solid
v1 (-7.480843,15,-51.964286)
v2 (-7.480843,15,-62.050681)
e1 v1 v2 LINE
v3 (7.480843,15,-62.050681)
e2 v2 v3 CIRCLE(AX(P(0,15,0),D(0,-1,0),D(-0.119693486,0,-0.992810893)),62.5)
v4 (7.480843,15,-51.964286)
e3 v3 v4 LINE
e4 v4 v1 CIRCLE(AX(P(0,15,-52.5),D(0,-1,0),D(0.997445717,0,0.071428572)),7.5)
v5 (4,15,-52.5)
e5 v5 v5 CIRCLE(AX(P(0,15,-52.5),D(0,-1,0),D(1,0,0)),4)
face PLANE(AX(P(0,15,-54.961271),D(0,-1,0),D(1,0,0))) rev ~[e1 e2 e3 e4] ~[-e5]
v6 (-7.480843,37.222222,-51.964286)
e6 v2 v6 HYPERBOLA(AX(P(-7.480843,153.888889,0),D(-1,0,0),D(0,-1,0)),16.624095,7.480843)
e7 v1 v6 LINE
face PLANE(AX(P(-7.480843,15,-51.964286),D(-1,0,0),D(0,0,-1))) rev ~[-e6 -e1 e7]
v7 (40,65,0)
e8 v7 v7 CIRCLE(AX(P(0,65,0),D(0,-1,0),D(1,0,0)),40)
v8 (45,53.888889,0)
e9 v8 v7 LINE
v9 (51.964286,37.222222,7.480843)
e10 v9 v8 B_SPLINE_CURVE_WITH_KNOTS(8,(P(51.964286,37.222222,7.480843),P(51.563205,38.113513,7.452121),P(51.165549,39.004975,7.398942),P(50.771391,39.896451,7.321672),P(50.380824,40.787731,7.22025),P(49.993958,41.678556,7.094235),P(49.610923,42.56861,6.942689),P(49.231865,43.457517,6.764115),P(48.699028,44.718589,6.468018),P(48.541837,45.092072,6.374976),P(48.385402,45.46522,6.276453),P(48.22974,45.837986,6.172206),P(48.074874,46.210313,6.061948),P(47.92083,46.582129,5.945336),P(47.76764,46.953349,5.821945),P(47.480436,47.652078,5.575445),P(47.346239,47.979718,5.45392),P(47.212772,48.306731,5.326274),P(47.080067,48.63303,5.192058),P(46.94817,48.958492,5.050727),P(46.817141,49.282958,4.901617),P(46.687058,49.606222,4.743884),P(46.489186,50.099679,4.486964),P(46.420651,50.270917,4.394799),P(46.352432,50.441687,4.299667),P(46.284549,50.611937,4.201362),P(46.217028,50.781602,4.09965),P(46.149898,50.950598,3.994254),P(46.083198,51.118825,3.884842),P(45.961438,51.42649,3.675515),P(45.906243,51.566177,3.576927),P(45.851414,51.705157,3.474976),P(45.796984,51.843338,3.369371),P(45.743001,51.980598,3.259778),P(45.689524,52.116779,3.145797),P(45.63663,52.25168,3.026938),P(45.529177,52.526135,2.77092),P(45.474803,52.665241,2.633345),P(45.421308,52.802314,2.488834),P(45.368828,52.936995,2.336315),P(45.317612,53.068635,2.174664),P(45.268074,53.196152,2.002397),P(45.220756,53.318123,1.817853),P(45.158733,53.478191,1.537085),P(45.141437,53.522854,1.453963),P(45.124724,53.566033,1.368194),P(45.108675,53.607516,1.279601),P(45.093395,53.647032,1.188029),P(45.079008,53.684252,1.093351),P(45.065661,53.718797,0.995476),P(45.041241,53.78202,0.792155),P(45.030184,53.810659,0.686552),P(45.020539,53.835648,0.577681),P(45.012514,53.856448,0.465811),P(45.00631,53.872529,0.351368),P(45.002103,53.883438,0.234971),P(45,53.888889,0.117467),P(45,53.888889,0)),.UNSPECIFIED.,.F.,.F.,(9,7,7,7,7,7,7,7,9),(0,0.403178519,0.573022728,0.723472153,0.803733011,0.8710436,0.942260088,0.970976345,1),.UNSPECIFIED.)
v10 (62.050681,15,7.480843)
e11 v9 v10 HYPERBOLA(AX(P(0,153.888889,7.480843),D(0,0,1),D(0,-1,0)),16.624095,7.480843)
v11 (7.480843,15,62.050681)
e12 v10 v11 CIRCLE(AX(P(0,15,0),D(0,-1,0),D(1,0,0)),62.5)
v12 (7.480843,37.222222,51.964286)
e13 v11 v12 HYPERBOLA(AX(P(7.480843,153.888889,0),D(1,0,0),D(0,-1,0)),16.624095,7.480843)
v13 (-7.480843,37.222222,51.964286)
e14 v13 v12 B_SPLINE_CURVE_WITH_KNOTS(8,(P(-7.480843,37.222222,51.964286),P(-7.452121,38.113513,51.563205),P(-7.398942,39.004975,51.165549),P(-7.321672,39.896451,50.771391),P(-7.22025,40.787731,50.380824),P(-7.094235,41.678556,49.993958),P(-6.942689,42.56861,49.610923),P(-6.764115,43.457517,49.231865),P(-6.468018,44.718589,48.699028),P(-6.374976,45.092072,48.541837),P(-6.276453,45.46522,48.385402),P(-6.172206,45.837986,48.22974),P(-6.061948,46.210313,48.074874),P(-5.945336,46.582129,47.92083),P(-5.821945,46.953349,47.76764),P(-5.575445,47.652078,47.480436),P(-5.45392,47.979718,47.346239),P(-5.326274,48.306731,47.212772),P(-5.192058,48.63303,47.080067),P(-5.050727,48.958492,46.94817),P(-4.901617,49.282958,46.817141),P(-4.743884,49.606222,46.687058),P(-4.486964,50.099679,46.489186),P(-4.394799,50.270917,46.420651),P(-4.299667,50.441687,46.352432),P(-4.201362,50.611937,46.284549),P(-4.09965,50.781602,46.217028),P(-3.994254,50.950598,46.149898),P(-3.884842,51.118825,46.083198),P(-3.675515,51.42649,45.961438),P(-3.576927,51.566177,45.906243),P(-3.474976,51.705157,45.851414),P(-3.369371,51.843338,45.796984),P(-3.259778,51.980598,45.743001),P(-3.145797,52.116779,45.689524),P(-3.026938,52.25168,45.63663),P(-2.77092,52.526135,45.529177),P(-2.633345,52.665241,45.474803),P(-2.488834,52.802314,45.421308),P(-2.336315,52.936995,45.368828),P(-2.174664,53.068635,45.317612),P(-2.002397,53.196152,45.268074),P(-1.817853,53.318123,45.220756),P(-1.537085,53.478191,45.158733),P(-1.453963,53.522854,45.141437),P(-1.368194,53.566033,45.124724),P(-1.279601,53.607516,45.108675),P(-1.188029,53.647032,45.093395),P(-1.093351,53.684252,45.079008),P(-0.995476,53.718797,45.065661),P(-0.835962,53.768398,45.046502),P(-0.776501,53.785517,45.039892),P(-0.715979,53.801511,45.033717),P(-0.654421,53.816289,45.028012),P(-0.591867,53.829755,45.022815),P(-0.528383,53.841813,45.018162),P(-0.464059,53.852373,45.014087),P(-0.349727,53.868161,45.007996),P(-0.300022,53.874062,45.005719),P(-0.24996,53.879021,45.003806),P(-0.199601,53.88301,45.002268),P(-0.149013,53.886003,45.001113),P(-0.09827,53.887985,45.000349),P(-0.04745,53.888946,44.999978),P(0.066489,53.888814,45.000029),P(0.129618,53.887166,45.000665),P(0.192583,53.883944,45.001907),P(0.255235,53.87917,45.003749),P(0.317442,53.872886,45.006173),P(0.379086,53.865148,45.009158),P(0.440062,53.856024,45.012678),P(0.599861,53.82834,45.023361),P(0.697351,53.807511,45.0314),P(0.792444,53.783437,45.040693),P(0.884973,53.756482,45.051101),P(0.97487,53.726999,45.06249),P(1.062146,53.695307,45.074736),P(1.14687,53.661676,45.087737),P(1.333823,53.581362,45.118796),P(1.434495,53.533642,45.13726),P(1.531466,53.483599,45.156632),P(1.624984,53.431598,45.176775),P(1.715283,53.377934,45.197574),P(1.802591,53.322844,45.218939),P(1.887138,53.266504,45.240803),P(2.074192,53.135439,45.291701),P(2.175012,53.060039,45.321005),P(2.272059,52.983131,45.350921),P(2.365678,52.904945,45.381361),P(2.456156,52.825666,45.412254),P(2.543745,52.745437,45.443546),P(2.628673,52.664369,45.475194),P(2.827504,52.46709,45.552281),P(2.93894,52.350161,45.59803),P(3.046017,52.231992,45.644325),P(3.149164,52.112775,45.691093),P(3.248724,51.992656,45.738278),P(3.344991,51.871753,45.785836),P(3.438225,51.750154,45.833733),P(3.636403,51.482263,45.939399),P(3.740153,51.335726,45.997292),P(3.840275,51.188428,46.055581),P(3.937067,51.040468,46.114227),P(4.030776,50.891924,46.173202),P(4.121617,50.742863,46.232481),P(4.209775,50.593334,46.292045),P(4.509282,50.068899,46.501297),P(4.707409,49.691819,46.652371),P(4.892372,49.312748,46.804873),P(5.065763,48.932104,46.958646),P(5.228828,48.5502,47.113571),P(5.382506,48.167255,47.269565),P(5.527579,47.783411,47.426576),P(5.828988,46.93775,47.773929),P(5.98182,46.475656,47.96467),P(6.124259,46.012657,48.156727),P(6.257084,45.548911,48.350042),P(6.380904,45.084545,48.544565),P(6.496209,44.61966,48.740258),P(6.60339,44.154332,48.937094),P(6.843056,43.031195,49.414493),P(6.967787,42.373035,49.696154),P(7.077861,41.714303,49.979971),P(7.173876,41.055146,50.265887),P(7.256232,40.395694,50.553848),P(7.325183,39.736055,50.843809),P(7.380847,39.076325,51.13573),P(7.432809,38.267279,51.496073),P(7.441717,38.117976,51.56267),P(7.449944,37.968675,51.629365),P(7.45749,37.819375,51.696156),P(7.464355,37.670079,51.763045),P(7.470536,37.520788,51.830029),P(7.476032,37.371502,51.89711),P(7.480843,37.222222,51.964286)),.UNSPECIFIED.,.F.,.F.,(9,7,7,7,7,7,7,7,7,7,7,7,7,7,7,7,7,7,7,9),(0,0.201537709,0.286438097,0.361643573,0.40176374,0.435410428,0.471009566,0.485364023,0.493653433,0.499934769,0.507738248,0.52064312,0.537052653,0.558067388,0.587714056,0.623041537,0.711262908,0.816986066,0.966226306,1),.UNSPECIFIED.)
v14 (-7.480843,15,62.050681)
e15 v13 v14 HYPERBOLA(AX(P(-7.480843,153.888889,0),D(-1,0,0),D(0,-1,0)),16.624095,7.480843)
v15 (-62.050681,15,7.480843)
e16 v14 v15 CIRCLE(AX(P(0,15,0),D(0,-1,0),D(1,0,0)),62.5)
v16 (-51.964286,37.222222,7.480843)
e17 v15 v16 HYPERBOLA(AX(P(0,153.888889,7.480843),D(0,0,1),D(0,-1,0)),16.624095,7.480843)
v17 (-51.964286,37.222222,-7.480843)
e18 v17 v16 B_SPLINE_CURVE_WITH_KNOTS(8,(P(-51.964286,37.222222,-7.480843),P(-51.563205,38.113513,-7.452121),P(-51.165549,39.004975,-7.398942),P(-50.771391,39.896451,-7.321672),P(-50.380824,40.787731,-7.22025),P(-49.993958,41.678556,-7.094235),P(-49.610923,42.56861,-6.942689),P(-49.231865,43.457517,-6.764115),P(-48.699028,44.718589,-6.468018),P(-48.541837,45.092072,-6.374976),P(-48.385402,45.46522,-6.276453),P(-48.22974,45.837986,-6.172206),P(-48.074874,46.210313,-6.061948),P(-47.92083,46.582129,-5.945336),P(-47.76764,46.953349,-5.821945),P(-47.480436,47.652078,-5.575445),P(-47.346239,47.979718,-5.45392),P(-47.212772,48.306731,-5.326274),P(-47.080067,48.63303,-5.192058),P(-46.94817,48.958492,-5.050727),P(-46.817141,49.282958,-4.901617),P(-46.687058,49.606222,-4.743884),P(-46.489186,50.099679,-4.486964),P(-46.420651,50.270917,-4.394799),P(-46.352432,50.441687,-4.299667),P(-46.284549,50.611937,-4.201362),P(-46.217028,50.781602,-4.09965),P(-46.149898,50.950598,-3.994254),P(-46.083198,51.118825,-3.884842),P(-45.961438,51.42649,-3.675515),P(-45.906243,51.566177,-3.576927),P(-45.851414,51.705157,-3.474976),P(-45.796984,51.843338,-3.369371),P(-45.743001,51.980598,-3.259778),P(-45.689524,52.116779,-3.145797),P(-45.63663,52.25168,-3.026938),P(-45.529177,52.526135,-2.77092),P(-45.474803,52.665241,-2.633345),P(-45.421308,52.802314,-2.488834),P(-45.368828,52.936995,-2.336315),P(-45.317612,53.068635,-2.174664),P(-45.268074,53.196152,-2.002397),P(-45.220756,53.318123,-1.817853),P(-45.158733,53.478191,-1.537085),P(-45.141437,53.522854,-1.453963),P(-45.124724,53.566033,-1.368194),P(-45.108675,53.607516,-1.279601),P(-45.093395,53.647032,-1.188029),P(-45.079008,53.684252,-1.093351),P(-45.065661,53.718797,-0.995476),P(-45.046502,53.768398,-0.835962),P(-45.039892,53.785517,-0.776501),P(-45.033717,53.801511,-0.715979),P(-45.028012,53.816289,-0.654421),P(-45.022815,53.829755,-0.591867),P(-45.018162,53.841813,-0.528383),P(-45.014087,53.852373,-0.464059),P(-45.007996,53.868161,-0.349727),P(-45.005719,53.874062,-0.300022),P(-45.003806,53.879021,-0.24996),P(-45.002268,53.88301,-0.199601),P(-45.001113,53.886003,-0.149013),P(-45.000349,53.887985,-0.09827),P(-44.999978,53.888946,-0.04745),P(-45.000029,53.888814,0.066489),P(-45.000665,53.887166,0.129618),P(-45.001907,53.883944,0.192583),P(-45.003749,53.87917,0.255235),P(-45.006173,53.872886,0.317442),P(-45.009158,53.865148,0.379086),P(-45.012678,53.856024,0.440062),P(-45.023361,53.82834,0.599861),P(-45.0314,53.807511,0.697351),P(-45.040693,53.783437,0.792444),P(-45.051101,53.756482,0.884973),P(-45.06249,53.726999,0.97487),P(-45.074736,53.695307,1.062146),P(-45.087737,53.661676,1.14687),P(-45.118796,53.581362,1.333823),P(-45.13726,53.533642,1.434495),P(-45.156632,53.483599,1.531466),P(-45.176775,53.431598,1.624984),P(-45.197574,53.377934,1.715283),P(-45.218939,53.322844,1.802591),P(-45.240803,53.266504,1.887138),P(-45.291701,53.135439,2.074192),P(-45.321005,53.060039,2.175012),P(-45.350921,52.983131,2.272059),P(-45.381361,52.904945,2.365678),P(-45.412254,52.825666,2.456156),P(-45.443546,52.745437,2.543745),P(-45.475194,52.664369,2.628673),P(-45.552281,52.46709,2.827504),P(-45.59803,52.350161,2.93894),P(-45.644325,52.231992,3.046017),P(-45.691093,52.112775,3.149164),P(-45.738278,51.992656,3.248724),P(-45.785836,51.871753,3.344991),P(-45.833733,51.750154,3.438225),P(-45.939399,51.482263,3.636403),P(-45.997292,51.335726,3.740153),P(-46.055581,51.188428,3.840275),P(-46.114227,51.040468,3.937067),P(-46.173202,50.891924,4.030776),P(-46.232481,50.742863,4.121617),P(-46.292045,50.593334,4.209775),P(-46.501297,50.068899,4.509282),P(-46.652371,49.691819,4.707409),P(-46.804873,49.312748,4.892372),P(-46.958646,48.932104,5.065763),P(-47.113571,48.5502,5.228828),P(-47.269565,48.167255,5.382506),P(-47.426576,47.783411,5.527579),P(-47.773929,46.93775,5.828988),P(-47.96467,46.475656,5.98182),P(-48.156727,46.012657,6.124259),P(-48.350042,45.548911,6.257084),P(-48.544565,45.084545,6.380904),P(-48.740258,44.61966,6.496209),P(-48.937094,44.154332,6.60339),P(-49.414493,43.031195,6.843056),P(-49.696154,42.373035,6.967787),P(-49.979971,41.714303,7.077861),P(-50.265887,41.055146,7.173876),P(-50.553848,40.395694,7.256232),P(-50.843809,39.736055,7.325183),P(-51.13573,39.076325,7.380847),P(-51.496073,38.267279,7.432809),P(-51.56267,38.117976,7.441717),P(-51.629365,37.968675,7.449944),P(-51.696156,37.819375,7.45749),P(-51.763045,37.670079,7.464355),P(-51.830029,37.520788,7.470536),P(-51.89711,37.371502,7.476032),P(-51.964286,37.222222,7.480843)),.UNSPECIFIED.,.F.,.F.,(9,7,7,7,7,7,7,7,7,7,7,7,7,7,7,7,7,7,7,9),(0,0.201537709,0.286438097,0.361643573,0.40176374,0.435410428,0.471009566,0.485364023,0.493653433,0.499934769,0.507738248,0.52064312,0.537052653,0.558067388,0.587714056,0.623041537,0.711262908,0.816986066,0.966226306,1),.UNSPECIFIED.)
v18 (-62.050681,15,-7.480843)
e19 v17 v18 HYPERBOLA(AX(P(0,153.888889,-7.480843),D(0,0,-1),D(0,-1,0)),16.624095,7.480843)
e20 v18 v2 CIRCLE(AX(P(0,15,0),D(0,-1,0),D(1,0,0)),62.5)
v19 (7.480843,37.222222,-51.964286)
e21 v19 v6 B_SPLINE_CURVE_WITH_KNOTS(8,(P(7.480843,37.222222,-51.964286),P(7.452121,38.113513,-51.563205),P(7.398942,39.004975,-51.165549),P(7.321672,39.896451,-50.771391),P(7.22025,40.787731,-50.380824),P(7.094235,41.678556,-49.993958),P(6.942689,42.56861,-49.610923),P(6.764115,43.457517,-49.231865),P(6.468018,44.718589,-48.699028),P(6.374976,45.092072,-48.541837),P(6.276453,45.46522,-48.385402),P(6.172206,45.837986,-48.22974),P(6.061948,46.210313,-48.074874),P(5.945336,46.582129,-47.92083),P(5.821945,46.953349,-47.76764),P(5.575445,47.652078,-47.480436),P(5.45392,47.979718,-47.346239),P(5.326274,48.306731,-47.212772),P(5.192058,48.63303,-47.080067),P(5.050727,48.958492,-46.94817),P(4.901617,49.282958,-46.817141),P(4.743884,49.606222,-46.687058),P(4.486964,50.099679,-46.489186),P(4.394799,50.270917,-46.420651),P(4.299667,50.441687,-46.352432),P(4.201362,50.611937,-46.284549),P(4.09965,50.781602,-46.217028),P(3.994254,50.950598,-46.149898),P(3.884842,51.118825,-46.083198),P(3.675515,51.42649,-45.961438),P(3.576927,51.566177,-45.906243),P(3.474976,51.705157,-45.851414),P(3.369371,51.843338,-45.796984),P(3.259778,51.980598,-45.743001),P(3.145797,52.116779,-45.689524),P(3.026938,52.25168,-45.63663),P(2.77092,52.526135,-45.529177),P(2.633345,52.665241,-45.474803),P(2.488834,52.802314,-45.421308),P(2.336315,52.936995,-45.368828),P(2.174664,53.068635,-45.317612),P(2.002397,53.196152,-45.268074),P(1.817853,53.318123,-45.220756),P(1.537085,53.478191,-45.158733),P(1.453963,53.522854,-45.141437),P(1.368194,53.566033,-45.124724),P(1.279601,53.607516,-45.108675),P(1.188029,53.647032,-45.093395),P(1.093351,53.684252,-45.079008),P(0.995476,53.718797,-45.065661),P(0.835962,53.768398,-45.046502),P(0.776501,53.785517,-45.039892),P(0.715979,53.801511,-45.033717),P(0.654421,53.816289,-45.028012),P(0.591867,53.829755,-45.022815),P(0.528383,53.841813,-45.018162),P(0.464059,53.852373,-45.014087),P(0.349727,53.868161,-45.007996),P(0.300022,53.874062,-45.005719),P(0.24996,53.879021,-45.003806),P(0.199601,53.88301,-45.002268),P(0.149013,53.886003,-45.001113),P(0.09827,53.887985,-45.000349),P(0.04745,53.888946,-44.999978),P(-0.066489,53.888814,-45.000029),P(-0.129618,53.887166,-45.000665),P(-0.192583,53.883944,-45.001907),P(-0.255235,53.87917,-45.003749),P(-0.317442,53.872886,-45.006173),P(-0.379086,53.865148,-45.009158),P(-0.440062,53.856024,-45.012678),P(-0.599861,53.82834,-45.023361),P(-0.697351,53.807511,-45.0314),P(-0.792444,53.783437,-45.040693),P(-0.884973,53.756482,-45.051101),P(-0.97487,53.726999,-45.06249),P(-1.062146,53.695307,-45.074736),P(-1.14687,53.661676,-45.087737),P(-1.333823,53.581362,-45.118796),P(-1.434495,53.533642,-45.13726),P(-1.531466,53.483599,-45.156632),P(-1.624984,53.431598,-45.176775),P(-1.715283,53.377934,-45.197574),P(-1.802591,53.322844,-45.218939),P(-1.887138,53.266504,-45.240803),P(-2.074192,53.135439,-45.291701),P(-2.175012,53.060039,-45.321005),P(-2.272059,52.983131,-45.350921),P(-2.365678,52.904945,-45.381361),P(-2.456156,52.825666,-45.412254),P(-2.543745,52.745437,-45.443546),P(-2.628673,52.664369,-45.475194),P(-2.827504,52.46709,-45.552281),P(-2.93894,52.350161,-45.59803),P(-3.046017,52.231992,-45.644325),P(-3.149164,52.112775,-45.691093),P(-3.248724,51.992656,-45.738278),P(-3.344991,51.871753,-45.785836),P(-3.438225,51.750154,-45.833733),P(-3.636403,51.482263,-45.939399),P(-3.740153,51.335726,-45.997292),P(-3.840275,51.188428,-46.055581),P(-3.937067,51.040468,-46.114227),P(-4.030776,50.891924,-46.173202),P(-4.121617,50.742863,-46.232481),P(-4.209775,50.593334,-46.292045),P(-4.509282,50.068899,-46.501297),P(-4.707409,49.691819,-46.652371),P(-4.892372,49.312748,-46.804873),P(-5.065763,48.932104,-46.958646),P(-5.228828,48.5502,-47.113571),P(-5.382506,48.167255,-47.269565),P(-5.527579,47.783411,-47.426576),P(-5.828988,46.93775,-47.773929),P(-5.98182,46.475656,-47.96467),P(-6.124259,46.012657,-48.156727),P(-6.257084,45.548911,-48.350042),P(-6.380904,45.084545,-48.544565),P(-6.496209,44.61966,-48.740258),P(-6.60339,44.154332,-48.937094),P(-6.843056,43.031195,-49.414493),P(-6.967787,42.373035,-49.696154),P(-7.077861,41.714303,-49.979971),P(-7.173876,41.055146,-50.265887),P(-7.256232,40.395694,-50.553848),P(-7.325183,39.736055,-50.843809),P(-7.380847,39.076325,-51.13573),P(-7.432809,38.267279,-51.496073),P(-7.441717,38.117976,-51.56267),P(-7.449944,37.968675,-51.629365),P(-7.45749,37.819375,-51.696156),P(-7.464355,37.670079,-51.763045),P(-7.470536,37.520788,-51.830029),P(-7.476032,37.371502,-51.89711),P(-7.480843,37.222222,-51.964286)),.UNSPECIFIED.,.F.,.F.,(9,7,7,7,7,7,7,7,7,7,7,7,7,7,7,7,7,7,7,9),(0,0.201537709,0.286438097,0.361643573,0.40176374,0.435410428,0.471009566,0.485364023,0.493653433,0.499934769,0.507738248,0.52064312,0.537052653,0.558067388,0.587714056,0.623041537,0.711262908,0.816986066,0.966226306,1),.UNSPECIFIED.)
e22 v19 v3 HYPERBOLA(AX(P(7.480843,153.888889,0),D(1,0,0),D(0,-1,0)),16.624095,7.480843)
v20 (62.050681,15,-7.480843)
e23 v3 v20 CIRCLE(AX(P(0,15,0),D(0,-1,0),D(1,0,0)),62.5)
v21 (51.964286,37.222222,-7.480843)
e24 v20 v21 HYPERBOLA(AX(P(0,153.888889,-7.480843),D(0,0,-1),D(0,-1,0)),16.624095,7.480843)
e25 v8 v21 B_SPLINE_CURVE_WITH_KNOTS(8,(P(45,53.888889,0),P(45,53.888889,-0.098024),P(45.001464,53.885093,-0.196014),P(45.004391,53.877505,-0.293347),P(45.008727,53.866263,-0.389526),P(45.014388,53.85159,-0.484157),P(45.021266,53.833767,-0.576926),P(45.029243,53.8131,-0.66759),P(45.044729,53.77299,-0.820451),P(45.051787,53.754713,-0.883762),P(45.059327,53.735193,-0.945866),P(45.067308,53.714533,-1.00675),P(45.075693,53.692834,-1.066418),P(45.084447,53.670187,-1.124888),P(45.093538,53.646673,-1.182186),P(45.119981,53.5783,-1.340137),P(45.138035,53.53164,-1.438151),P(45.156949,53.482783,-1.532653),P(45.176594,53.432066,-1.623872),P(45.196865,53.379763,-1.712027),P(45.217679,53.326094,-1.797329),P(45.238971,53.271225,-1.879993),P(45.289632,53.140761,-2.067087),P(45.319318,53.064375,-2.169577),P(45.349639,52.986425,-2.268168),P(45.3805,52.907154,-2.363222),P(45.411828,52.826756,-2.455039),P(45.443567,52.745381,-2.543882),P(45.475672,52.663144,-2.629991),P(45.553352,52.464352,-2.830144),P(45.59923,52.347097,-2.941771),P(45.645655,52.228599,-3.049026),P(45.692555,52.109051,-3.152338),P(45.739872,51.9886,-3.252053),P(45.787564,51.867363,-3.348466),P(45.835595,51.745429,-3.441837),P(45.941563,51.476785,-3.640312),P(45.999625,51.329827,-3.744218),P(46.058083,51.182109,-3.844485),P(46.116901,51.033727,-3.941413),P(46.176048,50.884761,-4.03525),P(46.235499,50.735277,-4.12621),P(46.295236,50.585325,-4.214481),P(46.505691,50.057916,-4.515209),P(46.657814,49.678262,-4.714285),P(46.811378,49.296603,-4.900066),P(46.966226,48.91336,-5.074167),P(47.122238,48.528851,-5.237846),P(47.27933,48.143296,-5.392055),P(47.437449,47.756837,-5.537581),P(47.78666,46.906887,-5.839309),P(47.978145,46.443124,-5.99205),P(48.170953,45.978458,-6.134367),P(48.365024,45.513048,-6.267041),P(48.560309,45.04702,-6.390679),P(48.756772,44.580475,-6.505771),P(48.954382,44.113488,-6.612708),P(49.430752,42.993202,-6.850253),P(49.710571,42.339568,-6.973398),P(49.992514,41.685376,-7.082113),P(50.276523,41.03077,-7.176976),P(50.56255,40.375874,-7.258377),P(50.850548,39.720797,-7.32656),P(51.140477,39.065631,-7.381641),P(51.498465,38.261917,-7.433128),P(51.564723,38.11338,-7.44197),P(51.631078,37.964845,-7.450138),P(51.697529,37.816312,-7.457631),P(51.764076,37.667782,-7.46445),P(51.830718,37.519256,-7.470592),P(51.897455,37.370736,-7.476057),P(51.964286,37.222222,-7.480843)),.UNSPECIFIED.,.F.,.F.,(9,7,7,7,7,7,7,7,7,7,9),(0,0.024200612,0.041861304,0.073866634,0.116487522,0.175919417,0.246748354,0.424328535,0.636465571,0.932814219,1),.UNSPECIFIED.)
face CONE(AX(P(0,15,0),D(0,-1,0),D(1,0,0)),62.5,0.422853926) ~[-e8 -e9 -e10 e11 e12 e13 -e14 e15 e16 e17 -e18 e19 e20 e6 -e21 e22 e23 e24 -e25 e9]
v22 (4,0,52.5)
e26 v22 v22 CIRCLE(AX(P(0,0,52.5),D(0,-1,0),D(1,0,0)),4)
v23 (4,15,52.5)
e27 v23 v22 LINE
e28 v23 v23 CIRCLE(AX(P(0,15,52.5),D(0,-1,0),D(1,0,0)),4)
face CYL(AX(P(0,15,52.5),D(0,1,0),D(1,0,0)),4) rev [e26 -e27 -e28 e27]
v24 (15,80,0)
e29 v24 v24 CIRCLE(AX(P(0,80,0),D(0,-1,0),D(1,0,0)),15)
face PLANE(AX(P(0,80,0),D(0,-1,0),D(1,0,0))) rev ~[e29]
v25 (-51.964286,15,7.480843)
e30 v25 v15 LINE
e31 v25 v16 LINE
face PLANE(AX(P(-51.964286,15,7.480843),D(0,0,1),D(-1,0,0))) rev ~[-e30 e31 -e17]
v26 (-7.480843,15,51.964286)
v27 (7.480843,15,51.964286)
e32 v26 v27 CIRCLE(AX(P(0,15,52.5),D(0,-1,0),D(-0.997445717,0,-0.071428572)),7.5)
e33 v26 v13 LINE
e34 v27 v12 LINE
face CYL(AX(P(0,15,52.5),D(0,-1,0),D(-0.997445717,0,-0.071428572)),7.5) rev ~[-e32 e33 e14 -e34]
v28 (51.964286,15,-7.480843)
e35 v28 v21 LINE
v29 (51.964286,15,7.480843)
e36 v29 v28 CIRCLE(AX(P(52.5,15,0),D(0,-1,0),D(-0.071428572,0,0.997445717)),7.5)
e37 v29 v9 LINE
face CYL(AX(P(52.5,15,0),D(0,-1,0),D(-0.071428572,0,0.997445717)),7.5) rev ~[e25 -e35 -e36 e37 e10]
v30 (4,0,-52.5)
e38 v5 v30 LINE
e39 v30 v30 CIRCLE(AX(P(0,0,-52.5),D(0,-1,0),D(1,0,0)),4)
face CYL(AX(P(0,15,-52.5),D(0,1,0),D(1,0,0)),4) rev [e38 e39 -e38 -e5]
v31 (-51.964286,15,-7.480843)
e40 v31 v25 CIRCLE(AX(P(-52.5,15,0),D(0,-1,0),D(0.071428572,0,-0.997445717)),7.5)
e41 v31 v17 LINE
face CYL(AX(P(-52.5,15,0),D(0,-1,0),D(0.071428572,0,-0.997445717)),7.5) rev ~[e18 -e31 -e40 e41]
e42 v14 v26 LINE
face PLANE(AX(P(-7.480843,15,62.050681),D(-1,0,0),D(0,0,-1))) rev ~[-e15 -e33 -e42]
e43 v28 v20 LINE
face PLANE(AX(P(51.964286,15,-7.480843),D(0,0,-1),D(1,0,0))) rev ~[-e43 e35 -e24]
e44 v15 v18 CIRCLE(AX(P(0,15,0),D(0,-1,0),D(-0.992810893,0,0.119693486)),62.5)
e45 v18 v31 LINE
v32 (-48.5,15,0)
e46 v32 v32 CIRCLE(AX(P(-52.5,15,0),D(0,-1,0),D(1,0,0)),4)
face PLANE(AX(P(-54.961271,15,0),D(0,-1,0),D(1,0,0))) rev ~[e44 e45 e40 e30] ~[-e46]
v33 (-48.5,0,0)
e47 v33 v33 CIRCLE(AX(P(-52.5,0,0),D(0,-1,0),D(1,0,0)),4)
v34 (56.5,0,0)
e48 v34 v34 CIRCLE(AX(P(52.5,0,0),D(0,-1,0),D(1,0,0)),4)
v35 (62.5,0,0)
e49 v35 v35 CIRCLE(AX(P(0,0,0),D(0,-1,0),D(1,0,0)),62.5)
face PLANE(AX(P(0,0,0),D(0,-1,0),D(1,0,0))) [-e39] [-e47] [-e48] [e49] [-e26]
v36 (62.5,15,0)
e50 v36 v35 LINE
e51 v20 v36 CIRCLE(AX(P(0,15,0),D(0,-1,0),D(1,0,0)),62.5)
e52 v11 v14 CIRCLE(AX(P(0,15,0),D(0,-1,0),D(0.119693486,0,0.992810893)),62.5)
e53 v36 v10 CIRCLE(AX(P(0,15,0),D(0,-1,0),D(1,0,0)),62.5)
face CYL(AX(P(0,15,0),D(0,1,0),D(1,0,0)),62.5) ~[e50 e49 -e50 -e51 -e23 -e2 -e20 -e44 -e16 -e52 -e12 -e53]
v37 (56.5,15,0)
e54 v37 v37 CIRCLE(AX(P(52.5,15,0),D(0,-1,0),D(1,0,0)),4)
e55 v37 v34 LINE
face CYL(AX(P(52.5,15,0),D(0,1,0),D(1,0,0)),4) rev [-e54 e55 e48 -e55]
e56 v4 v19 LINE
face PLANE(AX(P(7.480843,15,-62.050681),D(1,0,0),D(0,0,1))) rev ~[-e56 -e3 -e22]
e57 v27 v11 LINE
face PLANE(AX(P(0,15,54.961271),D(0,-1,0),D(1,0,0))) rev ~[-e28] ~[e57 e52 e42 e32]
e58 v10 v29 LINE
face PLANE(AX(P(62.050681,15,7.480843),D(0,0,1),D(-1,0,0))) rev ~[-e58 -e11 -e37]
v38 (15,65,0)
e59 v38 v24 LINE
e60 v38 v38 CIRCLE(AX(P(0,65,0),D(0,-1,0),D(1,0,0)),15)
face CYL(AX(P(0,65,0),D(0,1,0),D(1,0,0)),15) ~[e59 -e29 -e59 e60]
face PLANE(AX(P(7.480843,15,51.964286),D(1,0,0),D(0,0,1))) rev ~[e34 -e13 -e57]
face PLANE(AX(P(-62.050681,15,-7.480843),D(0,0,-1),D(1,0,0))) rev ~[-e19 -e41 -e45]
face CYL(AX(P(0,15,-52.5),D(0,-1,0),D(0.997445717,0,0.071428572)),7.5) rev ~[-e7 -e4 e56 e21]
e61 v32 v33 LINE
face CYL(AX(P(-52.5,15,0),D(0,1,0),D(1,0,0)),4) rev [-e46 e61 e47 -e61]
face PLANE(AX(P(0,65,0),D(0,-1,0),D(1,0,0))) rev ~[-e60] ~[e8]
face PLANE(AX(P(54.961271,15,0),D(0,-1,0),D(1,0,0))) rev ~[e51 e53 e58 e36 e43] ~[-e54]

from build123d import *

# Parameters (mm, degrees)
SKETCH4_R           = 62.5
SKETCH4_R_2         = 4
BOSS_EXTRUDE2_DEPTH = 15
CUT_EXTRUDE1_REACH  = 111.716


with BuildPart() as part:
    # Sketch3 → Revolve1 (revolve)
    with BuildSketch(Plane.XY):
        Polygon((0, 15), (62.5, 15), (40, 65), (15, 65), (15, 80), (0, 80), (0, 65), align=None)
    revolve(axis=Axis((0, 65, 0), (0, -1, 0)))

    # Sketch4 → Boss-Extrude2 (add)
    with BuildSketch(Plane.XZ.offset(-15)):
        Circle(SKETCH4_R)
        with Locations((0, -52.5)):
            Circle(SKETCH4_R_2, mode=Mode.SUBTRACT)
        with Locations((-52.5, 0)):
            Circle(SKETCH4_R_2, mode=Mode.SUBTRACT)
        with Locations((0, 52.5)):
            Circle(SKETCH4_R_2, mode=Mode.SUBTRACT)
        with Locations((52.5, 0)):
            Circle(SKETCH4_R_2, mode=Mode.SUBTRACT)
    extrude(amount=BOSS_EXTRUDE2_DEPTH)

    # Sketch4<5> → Cut-Extrude1 (cut, up to next)
    with BuildSketch(Plane.XZ.offset(-15), mode=Mode.PRIVATE) as cut_extrude1_sk1:
        with BuildLine():
            Line((7.480842881, -62.050680817), (7.480842881, -51.964285714))
            ThreePointArc((7.480842881, -51.964285714), (0, -45), (-7.480842881, -51.964285714))
            Line((-7.480842881, -51.964285714), (-7.480842881, -62.050680817))
            ThreePointArc((-7.480842881, -62.050680817), (0, -62.5), (7.480842881, -62.050680817))
        make_face()
    cut_extrude1_tool1 = extrude(cut_extrude1_sk1.sketch, amount=-CUT_EXTRUDE1_REACH, mode=Mode.PRIVATE) & part.part
    # Sketch4<5> → Cut-Extrude1 (cut, up to next)
    with BuildSketch(Plane.XZ.offset(-15), mode=Mode.PRIVATE) as cut_extrude1_sk2:
        with BuildLine():
            Line((51.964285714, -7.480842881), (62.050680817, -7.480842881))
            ThreePointArc((62.050680817, -7.480842881), (62.5, 0), (62.050680817, 7.480842881))
            Line((62.050680817, 7.480842881), (51.964285714, 7.480842881))
            ThreePointArc((51.964285714, 7.480842881), (45, 0), (51.964285714, -7.480842881))
        make_face()
    cut_extrude1_tool2 = extrude(cut_extrude1_sk2.sketch, amount=-CUT_EXTRUDE1_REACH, mode=Mode.PRIVATE) & part.part
    # Sketch4<5> → Cut-Extrude1 (cut, up to next)
    with BuildSketch(Plane.XZ.offset(-15), mode=Mode.PRIVATE) as cut_extrude1_sk3:
        with BuildLine():
            ThreePointArc((-62.050680817, 7.480842881), (-62.5, 0), (-62.050680817, -7.480842881))
            Line((-62.050680817, -7.480842881), (-51.964285714, -7.480842881))
            ThreePointArc((-51.964285714, -7.480842881), (-45, 0), (-51.964285714, 7.480842881))
            Line((-51.964285714, 7.480842881), (-62.050680817, 7.480842881))
        make_face()
    cut_extrude1_tool3 = extrude(cut_extrude1_sk3.sketch, amount=-CUT_EXTRUDE1_REACH, mode=Mode.PRIVATE) & part.part
    # Sketch4<5> → Cut-Extrude1 (cut, up to next)
    with BuildSketch(Plane.XZ.offset(-15), mode=Mode.PRIVATE) as cut_extrude1_sk4:
        with BuildLine():
            ThreePointArc((7.480842881, 62.050680817), (0, 62.5), (-7.480842881, 62.050680817))
            Line((-7.480842881, 62.050680817), (-7.480842881, 51.964285714))
            ThreePointArc((-7.480842881, 51.964285714), (0, 45), (7.480842881, 51.964285714))
            Line((7.480842881, 51.964285714), (7.480842881, 62.050680817))
        make_face()
    cut_extrude1_tool4 = extrude(cut_extrude1_sk4.sketch, amount=-CUT_EXTRUDE1_REACH, mode=Mode.PRIVATE) & part.part
    add(cut_extrude1_tool1.solids().sort_by_distance((0, 15, -54.386802))[0], mode=Mode.SUBTRACT)
    add(cut_extrude1_tool2.solids().sort_by_distance((54.386802, 15, 0))[0], mode=Mode.SUBTRACT)
    add(cut_extrude1_tool3.solids().sort_by_distance((-54.386802, 15, 0))[0], mode=Mode.SUBTRACT)
    add(cut_extrude1_tool4.solids().sort_by_distance((0, 15, 54.386802))[0], mode=Mode.SUBTRACT)


solid = part.part
